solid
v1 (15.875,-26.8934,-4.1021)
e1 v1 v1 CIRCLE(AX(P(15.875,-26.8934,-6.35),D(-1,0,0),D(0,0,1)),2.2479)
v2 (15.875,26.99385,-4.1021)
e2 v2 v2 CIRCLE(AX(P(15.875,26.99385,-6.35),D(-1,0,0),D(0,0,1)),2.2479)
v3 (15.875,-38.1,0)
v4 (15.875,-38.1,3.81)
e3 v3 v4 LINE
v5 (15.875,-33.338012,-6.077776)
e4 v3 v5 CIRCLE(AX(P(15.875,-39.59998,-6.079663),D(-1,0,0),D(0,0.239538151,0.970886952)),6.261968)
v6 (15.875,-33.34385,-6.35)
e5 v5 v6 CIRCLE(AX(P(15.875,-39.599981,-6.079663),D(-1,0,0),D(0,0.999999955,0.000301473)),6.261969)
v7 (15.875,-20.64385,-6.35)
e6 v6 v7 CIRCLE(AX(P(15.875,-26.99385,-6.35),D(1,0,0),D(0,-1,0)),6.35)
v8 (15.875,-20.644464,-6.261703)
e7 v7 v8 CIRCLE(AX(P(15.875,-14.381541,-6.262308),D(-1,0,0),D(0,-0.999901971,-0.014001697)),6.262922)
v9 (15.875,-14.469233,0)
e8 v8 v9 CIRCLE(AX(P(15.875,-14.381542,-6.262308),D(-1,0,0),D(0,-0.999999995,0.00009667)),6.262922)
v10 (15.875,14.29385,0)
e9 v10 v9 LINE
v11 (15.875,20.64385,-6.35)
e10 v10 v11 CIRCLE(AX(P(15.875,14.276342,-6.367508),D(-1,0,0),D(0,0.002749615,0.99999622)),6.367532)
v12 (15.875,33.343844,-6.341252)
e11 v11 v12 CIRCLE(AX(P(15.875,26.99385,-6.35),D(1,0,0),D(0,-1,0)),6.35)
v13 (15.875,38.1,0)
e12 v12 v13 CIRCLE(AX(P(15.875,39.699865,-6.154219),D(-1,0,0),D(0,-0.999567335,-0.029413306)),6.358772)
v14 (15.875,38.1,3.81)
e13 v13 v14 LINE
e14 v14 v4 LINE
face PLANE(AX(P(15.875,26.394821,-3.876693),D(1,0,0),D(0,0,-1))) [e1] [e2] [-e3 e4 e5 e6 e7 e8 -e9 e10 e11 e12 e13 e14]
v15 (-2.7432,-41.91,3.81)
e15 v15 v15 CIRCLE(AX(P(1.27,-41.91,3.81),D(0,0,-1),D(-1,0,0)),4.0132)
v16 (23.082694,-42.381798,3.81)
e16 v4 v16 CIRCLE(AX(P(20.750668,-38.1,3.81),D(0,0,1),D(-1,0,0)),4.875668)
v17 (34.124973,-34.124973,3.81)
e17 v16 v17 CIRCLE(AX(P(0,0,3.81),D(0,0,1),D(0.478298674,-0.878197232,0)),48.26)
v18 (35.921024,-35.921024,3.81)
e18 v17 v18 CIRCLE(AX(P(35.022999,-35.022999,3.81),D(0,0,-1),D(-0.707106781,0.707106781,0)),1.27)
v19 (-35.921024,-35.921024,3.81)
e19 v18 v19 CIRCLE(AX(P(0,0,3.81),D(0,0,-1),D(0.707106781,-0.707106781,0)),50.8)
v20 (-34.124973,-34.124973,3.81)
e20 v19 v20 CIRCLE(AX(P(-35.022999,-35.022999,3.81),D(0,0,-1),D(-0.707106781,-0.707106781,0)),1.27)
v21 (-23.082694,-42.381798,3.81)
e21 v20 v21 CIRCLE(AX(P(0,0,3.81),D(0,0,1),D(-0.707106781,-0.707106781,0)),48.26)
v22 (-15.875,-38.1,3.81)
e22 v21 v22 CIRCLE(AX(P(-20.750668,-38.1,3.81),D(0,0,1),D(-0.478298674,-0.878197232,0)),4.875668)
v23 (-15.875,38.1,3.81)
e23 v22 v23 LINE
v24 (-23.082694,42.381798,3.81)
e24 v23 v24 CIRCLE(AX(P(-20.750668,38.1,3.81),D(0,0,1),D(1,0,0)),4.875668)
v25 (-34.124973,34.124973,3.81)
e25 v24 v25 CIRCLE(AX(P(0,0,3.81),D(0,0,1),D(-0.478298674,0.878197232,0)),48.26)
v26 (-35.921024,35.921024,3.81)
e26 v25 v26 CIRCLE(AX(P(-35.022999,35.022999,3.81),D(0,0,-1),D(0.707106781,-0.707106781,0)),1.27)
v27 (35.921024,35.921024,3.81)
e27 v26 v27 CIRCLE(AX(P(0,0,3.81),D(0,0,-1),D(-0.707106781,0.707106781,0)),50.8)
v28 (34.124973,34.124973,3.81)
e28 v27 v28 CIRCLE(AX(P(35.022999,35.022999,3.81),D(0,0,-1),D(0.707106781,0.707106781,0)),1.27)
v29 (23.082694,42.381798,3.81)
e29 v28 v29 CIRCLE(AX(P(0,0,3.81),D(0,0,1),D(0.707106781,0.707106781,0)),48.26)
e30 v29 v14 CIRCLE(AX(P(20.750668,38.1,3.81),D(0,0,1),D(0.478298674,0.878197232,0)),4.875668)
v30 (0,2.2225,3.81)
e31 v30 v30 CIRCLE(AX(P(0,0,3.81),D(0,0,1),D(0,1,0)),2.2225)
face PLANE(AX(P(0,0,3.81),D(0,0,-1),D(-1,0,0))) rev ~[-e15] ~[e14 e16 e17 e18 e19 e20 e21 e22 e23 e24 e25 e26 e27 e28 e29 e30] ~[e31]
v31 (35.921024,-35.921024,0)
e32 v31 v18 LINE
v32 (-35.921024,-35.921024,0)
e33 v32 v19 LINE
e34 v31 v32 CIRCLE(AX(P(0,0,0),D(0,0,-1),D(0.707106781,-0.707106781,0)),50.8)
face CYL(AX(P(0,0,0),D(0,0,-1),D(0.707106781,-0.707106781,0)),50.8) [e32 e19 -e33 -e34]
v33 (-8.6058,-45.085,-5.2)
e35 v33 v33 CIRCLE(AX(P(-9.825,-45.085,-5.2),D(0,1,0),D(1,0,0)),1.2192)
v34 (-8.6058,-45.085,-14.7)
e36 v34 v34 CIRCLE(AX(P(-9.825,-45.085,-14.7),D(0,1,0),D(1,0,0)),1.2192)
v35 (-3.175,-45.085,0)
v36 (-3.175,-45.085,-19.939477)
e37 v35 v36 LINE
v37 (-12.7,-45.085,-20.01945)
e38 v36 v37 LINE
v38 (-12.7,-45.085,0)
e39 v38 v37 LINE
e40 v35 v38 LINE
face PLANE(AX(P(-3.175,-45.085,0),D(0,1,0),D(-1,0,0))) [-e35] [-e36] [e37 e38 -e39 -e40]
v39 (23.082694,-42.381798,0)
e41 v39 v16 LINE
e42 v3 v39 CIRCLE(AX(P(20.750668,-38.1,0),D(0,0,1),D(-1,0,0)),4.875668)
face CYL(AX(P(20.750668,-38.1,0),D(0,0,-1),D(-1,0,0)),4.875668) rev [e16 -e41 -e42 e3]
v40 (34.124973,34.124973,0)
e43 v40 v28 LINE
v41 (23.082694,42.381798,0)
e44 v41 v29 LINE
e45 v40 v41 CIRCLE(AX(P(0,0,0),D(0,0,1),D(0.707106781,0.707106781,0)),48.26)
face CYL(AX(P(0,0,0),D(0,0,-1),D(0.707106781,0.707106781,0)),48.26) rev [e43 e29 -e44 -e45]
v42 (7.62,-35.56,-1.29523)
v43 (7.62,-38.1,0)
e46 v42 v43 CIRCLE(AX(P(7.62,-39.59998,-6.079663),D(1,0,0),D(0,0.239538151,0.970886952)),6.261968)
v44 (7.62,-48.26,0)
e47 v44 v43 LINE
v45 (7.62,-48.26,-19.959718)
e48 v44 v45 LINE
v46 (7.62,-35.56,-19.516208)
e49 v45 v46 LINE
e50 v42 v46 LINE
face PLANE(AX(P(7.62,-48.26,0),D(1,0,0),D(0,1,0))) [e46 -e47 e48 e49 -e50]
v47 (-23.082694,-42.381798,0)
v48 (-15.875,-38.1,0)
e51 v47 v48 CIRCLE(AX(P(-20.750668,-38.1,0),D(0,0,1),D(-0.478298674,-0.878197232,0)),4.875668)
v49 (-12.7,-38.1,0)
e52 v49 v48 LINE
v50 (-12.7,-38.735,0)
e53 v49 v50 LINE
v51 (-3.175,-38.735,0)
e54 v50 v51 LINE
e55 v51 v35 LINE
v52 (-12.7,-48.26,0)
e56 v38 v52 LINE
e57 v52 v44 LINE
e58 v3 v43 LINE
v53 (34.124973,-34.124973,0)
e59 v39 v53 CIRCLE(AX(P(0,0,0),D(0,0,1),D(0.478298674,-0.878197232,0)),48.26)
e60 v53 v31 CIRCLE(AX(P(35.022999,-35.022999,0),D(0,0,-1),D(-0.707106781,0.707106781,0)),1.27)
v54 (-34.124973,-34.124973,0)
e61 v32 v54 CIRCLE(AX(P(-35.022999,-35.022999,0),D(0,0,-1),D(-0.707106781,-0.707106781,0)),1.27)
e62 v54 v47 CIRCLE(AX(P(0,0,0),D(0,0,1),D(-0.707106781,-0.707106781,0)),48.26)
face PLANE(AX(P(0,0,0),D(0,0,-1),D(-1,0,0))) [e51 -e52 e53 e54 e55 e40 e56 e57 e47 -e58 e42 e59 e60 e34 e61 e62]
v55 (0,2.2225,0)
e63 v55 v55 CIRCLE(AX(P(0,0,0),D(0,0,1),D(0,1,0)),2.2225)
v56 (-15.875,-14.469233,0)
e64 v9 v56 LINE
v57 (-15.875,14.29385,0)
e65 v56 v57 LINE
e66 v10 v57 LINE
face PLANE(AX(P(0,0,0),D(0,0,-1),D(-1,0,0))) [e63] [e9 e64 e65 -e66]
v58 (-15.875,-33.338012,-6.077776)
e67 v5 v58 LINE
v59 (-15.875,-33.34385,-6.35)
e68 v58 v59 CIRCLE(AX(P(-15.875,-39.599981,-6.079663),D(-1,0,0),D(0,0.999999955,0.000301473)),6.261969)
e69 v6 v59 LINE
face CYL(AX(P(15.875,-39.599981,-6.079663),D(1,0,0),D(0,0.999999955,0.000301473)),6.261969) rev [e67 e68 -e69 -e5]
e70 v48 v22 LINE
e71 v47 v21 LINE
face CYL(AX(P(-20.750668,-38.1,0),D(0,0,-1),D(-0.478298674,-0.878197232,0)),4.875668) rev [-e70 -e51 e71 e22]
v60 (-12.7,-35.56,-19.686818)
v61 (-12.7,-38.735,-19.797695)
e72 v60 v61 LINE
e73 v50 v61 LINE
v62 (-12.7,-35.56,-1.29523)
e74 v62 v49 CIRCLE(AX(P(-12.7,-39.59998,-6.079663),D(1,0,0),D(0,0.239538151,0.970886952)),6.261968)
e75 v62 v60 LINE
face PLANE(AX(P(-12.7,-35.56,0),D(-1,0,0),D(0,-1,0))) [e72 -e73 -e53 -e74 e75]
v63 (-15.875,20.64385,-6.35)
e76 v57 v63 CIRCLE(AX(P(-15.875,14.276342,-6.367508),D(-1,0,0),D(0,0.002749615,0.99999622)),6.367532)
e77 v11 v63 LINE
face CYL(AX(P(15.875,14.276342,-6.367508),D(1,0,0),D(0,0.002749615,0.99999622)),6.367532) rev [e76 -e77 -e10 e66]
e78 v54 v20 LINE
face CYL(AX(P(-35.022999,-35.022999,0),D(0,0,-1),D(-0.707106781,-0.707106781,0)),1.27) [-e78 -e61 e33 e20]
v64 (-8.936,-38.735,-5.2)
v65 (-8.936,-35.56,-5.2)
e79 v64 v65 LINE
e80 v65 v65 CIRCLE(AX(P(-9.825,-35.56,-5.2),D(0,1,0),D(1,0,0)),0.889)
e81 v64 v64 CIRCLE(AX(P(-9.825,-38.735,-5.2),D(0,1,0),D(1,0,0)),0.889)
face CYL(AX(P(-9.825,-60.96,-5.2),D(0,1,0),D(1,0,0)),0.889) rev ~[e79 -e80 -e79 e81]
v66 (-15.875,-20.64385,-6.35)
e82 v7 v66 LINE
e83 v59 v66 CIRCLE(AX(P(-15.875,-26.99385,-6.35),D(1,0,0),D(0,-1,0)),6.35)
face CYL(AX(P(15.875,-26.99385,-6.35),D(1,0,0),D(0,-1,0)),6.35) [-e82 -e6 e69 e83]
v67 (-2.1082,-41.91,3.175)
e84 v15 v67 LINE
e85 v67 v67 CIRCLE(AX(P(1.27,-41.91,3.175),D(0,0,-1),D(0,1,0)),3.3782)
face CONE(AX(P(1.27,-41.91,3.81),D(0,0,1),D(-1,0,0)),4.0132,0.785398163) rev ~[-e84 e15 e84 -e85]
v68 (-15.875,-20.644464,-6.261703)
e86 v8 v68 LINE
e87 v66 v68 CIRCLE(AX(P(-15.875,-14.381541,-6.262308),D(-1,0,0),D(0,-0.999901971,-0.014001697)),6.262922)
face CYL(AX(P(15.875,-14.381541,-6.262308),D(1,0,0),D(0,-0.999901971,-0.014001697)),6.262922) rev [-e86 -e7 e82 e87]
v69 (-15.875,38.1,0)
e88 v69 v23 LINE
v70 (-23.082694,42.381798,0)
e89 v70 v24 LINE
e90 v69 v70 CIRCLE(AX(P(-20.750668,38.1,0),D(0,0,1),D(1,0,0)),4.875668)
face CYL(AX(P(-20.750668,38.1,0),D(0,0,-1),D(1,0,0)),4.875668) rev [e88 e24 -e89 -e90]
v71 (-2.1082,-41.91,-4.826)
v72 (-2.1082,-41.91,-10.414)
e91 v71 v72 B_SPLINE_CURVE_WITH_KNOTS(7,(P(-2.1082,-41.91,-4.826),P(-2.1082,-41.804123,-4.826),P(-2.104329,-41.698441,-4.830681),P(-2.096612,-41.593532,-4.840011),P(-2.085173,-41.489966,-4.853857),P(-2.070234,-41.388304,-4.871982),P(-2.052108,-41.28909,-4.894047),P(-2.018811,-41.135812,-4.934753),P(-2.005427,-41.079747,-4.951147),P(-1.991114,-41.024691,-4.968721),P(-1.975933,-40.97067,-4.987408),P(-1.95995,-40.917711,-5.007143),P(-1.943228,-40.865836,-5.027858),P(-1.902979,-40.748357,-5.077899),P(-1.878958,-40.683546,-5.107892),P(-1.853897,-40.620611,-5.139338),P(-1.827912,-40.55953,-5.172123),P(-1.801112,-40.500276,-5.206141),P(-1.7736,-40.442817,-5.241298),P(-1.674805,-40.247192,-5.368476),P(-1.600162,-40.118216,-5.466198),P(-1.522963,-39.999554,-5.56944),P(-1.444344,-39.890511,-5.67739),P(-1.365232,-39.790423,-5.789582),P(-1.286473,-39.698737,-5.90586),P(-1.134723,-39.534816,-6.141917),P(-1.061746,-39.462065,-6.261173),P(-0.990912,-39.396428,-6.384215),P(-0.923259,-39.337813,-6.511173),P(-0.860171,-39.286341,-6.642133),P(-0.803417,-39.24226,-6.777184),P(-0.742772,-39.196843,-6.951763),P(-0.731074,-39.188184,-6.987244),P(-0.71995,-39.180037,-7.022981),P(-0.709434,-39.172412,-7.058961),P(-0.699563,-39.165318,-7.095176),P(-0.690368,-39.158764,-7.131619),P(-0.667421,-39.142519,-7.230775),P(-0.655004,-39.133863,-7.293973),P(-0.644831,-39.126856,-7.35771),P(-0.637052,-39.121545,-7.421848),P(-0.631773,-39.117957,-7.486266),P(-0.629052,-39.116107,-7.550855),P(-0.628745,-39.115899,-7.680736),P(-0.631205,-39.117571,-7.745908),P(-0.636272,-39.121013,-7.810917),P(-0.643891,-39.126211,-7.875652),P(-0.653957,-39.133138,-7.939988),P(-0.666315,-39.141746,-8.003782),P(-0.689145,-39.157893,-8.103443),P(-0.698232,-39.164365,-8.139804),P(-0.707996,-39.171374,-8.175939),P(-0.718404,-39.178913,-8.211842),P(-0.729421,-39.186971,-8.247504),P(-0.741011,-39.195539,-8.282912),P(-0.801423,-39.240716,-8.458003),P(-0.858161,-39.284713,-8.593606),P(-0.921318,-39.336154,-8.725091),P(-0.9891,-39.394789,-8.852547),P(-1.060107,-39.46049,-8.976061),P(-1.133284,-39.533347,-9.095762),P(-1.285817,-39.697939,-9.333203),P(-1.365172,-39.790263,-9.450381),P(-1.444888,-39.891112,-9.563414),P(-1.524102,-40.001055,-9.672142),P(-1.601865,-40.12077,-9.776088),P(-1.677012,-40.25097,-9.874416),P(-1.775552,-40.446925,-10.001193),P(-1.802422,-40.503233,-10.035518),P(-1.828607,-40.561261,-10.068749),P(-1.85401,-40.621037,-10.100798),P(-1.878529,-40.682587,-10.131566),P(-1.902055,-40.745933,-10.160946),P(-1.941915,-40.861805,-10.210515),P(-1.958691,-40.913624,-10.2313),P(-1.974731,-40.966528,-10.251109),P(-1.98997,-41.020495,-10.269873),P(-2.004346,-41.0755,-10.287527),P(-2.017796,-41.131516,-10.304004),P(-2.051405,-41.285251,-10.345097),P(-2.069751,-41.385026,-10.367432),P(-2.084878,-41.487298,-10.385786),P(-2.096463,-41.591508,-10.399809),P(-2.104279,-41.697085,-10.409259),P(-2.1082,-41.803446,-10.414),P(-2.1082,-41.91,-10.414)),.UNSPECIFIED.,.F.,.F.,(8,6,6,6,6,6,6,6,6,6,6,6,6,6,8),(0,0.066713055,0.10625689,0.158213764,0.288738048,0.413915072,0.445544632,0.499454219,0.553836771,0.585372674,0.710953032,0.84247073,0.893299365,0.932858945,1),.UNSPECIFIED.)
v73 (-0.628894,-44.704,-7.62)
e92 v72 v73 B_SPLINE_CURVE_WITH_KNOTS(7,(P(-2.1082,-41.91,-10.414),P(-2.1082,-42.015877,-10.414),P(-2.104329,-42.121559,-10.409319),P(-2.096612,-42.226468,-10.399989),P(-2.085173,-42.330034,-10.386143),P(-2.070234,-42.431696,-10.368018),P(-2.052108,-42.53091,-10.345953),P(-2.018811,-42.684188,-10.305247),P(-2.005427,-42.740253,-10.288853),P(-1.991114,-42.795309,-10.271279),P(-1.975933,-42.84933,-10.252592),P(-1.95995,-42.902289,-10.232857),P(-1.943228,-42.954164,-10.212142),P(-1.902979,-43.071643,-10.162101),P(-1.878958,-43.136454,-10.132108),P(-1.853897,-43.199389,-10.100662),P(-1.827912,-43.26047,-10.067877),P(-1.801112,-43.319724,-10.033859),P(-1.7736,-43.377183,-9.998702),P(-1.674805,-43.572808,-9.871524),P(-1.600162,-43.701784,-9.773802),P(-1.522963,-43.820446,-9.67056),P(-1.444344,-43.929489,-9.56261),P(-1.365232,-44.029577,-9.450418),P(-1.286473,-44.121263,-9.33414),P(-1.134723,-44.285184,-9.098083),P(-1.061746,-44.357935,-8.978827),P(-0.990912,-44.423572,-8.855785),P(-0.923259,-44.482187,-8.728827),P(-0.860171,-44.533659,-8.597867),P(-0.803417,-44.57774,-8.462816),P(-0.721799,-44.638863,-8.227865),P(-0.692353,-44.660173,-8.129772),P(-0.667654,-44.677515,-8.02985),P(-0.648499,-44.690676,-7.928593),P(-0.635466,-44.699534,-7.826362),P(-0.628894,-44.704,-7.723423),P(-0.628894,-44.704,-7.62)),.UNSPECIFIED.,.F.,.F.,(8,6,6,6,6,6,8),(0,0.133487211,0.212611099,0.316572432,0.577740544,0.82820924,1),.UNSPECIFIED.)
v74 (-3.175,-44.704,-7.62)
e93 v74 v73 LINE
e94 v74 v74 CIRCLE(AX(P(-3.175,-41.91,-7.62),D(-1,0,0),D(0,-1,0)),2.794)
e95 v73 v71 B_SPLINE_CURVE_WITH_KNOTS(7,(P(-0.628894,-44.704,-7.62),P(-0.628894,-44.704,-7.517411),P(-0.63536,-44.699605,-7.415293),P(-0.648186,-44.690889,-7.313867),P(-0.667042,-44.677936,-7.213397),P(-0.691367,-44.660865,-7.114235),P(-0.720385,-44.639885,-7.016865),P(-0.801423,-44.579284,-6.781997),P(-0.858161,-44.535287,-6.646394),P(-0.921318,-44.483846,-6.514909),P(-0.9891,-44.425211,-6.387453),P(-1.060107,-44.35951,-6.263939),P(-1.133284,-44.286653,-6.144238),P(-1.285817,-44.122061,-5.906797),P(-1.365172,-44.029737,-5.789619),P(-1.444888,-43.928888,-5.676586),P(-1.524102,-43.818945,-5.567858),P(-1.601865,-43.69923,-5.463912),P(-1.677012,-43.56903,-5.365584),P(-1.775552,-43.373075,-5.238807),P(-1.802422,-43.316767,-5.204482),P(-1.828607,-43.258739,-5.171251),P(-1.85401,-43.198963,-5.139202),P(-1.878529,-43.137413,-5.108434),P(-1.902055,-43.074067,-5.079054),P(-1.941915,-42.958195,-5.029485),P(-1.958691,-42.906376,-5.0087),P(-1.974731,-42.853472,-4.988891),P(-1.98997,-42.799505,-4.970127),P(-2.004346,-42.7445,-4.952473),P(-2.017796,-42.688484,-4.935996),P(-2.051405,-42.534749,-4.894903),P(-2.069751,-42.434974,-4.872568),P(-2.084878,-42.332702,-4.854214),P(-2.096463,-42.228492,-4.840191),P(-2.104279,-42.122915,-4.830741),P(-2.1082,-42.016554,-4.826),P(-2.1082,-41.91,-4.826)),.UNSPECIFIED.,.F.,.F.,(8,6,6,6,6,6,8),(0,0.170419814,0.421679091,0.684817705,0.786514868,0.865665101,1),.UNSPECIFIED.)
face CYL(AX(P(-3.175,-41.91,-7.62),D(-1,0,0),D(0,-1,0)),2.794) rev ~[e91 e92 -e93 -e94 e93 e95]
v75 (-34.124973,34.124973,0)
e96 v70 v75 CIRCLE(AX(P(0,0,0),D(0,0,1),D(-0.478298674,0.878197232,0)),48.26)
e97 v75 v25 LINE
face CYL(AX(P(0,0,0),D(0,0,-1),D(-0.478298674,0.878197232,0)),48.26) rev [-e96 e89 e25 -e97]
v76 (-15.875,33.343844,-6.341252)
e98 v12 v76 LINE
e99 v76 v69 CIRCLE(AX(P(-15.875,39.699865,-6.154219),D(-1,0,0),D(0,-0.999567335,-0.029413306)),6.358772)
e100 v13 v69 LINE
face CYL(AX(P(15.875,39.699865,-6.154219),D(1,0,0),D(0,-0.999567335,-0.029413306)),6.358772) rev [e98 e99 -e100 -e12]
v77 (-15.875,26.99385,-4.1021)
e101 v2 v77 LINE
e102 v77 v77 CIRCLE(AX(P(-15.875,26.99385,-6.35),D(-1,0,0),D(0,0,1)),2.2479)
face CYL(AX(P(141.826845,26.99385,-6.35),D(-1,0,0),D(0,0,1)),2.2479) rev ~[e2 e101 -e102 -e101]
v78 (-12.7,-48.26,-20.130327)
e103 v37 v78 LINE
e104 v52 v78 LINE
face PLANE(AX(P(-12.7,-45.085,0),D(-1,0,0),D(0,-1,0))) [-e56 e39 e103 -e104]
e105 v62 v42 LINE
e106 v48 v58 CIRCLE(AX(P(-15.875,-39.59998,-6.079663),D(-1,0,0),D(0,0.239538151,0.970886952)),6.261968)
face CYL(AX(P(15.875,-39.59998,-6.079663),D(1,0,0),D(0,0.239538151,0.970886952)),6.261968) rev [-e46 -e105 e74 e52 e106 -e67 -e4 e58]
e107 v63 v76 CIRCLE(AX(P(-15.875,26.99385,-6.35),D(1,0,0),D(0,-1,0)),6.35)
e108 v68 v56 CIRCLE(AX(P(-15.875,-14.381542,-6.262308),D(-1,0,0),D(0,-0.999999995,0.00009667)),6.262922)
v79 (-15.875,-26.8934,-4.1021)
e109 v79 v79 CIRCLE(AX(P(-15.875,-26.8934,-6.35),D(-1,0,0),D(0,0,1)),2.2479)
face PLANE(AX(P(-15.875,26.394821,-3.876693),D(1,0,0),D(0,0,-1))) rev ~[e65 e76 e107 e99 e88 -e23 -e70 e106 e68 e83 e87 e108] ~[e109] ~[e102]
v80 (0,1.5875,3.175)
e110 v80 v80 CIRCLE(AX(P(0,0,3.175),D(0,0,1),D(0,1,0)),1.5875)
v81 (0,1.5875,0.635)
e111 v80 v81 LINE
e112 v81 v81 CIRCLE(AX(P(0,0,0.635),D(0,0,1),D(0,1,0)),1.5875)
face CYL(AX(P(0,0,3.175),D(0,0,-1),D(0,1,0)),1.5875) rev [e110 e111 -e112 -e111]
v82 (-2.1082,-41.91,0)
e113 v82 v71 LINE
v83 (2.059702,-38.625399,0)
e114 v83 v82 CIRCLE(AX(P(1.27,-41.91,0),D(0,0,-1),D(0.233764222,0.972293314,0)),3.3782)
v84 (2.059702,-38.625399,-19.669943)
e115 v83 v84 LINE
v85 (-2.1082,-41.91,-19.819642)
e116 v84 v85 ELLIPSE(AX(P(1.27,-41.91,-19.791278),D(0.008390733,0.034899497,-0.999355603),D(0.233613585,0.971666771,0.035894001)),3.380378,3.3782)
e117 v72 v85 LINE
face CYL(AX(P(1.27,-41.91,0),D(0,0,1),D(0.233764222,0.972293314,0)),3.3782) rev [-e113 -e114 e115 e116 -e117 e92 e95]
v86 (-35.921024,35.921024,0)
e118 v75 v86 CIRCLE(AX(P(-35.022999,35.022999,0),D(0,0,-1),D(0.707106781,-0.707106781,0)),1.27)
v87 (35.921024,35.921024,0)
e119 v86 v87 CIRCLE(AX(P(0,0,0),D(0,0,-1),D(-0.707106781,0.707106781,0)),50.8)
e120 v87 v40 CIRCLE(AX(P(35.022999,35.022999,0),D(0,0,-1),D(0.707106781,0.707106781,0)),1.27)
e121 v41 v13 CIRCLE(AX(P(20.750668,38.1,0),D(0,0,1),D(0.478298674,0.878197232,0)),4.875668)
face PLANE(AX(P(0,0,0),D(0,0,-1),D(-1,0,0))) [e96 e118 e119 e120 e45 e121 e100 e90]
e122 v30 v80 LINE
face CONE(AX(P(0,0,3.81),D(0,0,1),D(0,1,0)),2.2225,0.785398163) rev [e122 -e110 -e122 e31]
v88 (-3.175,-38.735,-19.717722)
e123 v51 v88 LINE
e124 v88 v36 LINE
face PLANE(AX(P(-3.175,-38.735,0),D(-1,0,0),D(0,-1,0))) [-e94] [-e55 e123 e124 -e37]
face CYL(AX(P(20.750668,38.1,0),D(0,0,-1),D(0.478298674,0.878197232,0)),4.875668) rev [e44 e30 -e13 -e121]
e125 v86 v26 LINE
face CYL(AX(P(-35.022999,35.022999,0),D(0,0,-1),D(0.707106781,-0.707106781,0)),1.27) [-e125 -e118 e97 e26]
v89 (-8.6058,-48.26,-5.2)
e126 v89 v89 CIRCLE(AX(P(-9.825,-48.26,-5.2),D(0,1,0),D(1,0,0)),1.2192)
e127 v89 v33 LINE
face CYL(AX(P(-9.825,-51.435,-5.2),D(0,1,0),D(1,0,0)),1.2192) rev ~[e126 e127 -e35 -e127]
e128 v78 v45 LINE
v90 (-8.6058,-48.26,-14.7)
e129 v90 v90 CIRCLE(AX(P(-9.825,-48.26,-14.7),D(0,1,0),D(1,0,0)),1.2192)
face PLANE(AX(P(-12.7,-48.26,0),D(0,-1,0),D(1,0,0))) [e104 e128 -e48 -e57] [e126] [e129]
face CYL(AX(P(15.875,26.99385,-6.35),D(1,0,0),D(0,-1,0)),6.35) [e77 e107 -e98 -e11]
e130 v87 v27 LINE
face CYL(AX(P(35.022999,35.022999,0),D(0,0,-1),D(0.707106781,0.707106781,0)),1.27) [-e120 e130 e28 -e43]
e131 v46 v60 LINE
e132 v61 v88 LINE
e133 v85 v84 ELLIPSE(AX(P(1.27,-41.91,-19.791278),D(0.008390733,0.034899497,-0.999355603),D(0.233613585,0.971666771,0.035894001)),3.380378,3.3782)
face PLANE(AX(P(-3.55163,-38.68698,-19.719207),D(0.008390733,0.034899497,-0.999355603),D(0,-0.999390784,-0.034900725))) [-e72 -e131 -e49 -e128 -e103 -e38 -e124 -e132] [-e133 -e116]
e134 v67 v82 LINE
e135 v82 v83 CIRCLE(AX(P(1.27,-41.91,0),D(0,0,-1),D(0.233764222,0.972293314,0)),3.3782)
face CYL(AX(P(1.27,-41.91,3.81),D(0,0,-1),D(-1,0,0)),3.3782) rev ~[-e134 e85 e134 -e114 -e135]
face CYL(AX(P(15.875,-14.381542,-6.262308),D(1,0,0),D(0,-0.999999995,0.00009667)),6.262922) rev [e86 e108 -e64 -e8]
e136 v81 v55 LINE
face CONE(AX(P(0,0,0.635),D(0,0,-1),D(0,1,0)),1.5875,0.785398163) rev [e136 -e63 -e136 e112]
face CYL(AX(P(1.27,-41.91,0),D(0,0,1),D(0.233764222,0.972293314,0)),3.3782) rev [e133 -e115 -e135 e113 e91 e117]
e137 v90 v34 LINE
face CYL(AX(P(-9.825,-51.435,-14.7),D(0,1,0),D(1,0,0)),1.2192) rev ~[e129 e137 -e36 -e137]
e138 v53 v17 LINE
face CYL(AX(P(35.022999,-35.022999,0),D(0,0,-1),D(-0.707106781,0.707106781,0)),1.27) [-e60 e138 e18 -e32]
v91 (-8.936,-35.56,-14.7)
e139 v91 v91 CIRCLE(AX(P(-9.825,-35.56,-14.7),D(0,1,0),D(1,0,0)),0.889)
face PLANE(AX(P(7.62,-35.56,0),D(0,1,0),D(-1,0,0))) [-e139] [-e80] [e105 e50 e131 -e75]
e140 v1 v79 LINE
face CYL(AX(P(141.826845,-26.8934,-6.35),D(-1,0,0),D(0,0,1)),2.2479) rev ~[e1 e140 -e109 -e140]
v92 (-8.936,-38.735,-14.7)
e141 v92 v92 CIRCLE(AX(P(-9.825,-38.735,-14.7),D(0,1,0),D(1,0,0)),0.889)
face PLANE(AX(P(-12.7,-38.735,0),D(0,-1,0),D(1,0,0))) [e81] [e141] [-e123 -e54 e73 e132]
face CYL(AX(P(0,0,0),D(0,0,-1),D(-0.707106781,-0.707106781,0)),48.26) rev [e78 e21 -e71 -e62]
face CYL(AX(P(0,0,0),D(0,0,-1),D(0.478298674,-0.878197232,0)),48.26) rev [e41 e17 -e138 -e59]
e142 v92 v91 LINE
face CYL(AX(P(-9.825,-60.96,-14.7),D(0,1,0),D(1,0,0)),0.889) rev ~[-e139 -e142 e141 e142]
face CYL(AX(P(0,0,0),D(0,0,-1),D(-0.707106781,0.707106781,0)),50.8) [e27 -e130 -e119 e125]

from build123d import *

# Parameters (mm, degrees)
BOSS_EXTRUDE2_DEPTH               = 3.81
BOSS_EXTRUDE4_DEPTH               = 31.75
F_8_CLEARANCE_HOLE1_D             = 4.4958
BOSS_EXTRUDE7_REACH               = 65.711
SKETCH19_R                        = 3.3782
F_1_4_CLEARANCE_HOLE3_D           = 6.7564
F_1_4_CLEARANCE_HOLE3_CSINK_D     = 8.0264
F_1_4_CLEARANCE_HOLE3_CSINK_ANGLE = 90
SKETCH25_R                        = 2.794
CUT_EXTRUDE1_DEPTH                = 3.81
F_2_CLEARANCE_HOLE1_D             = 2.4384
F_2_CLEARANCE_HOLE1_DEPTH         = 3.175
TAP_DRILL_FOR_2_56_TAP1_D         = 1.778
TAP_DRILL_FOR_2_56_TAP1_DEPTH     = 12.7


with BuildPart() as part:
    # Sketch3 → Boss-Extrude2 (new body)
    with BuildSketch(Plane.XY):
        with BuildLine():
            Line((-15.875, -38.1), (-15.875, 38.1))
            ThreePointArc((-15.875, 38.1), (-18.260491841, 42.291797068), (-23.082694008, 42.38179842))
            ThreePointArc((-23.082694008, 42.38179842), (-28.900226452, 38.649767283), (-34.12497326, 34.12497326))
            ThreePointArc((-34.12497326, 34.12497326), (-35.921024484, 34.12497326), (-35.921024484, 35.921024484))
            ThreePointArc((-35.921024484, 35.921024484), (0, 50.8), (35.921024484, 35.921024484))
            ThreePointArc((35.921024484, 35.921024484), (35.921024484, 34.12497326), (34.12497326, 34.12497326))
            ThreePointArc((34.12497326, 34.12497326), (28.900226452, 38.649767283), (23.082694008, 42.38179842))
            ThreePointArc((23.082694008, 42.38179842), (18.260491841, 42.291797068), (15.875, 38.1))
            Line((15.875, 38.1), (15.875, -38.1))
            ThreePointArc((15.875, -38.1), (18.260491841, -42.291797068), (23.082694008, -42.38179842))
            ThreePointArc((23.082694008, -42.38179842), (28.900226452, -38.649767283), (34.12497326, -34.12497326))
            ThreePointArc((34.12497326, -34.12497326), (35.921024484, -34.12497326), (35.921024484, -35.921024484))
            ThreePointArc((35.921024484, -35.921024484), (0, -50.8), (-35.921024484, -35.921024484))
            ThreePointArc((-35.921024484, -35.921024484), (-35.921024484, -34.12497326), (-34.12497326, -34.12497326))
            ThreePointArc((-34.12497326, -34.12497326), (-28.900226452, -38.649767283), (-23.082694008, -42.38179842))
            ThreePointArc((-23.082694008, -42.38179842), (-18.260491841, -42.291797068), (-15.875, -38.1))
        make_face()
    extrude(amount=BOSS_EXTRUDE2_DEPTH)

    # Sketch5 → Boss-Extrude4 (add)
    with BuildSketch(Plane(origin=(15.875, 0, 0), x_dir=(0, 0, -1), z_dir=(1, 0, 0))):
        with BuildLine():
            Line((0, 38.1), (0, 26.99385))
            Line((0, 26.99385), (0, 14.29385))
            ThreePointArc((0, 14.29385), (1.86498297, 18.77886703), (6.35, 20.64385))
            ThreePointArc((6.35, 20.64385), (12.699998494, 26.998224058), (6.341251887, 33.343843974))
            ThreePointArc((6.341251887, 33.343843974), (2.338844583, 34.612930799), (0, 38.1))
        make_face()
        with BuildLine():
            ThreePointArc((6.261703048, -20.644463916), (1.864650947, -18.840779739), (0, -14.469233029))
            Line((0, -14.469233029), (0, -26.99385))
            Line((0, -26.99385), (0, -38.1))
            ThreePointArc((0, -38.1), (2.217611083, -34.670801888), (6.077775616, -33.338012189))
            ThreePointArc((6.077775616, -33.338012189), (6.213919542, -33.33945129), (6.35, -33.34385))
            ThreePointArc((6.35, -33.34385), (12.7, -26.99385), (6.35, -20.64385))
            ThreePointArc((6.35, -20.64385), (6.305852606, -20.644312569), (6.261703048, -20.644463916))
        make_face()
    extrude(amount=-BOSS_EXTRUDE4_DEPTH)

    # #8 Clearance Hole1 (through all)
    with Locations(Plane(origin=(15.875, 0, 0), x_dir=(0, 0, -1), z_dir=(1, 0, 0))):
        with Locations((6.35, 26.99385), (6.35, -26.893399733)):
            Hole(F_8_CLEARANCE_HOLE1_D / 2)

    # Sketch10 → 1/8 (0.125) Diameter Hole1 (revolve, cut)
    with BuildSketch(Plane.YZ):
        Polygon((0, 0), (0, 3.81), (2.2225, 3.81), (1.5875, 3.175), (1.5875, 0.635), (2.2225, 0), align=None)
    revolve(axis=Axis((0, 0, -6.35), (0, 0, 1)), mode=Mode.SUBTRACT)

    # Boss-Extrude7: up to this plane
    boss_extrude7_end = Plane(origin=(-3.551630422, -38.686979812, -19.719207275), z_dir=(0.008390733100517729, 0.03489949670250099, -0.9993556027400597))
    # Sketch19 → Boss-Extrude7 (add, up to the surface)
    with BuildSketch(Plane(origin=(0, 0, 0), x_dir=(-1, 0, 0), z_dir=(0, 0, -1)), mode=Mode.PRIVATE) as boss_extrude7_sk1:
        Polygon((12.7, -38.735), (3.175, -38.735), (3.175, -45.085), (12.7, -45.085), (12.7, -48.26), (-7.62, -48.26), (-7.62, -35.56), (12.7, -35.56), align=None)
        with Locations(Location((-1.27, -41.91, 0), (0, 0, 103.518789087))):
            Circle(SKETCH19_R, mode=Mode.SUBTRACT)
    boss_extrude7_tool1 = split(extrude(boss_extrude7_sk1.sketch, amount=BOSS_EXTRUDE7_REACH, mode=Mode.PRIVATE), bisect_by=boss_extrude7_end, keep=Keep.BOTH, mode=Mode.PRIVATE)
    add(boss_extrude7_tool1.solids().sort_by_distance((-7.9375, -38.495377, 0))[0])

    # 1/4 Clearance Hole3 (through all)
    with Locations(Plane.XY.offset(3.81)):
        with Locations((1.27, -41.91)):
            CounterSinkHole(F_1_4_CLEARANCE_HOLE3_D / 2, F_1_4_CLEARANCE_HOLE3_CSINK_D / 2, counter_sink_angle=F_1_4_CLEARANCE_HOLE3_CSINK_ANGLE)

    # Sketch25 → Cut-Extrude1 (cut)
    with BuildSketch(Plane.ZY.offset(3.175)):
        with Locations(Location((-7.62, -41.91, 0), (0, 0, 270))):
            Circle(SKETCH25_R)
    extrude(amount=-CUT_EXTRUDE1_DEPTH, mode=Mode.SUBTRACT)

    # #2 Clearance Hole1
    with Locations(Plane(origin=(0, -48.26, 0), x_dir=(-1, 0, 0), z_dir=(0, -1, 0))):
        with Locations((9.825, 14.7), (9.825, 5.2)):
            Hole(F_2_CLEARANCE_HOLE1_D / 2, depth=F_2_CLEARANCE_HOLE1_DEPTH)

    # Tap Drill for #2-56 Tap1
    with Locations(Plane(origin=(0, -48.26, 0), x_dir=(-1, 0, 0), z_dir=(0, -1, 0))):
        with Locations((9.825, 14.7), (9.825, 5.2)):
            Hole(TAP_DRILL_FOR_2_56_TAP1_D / 2, depth=TAP_DRILL_FOR_2_56_TAP1_DEPTH)


solid = part.part
